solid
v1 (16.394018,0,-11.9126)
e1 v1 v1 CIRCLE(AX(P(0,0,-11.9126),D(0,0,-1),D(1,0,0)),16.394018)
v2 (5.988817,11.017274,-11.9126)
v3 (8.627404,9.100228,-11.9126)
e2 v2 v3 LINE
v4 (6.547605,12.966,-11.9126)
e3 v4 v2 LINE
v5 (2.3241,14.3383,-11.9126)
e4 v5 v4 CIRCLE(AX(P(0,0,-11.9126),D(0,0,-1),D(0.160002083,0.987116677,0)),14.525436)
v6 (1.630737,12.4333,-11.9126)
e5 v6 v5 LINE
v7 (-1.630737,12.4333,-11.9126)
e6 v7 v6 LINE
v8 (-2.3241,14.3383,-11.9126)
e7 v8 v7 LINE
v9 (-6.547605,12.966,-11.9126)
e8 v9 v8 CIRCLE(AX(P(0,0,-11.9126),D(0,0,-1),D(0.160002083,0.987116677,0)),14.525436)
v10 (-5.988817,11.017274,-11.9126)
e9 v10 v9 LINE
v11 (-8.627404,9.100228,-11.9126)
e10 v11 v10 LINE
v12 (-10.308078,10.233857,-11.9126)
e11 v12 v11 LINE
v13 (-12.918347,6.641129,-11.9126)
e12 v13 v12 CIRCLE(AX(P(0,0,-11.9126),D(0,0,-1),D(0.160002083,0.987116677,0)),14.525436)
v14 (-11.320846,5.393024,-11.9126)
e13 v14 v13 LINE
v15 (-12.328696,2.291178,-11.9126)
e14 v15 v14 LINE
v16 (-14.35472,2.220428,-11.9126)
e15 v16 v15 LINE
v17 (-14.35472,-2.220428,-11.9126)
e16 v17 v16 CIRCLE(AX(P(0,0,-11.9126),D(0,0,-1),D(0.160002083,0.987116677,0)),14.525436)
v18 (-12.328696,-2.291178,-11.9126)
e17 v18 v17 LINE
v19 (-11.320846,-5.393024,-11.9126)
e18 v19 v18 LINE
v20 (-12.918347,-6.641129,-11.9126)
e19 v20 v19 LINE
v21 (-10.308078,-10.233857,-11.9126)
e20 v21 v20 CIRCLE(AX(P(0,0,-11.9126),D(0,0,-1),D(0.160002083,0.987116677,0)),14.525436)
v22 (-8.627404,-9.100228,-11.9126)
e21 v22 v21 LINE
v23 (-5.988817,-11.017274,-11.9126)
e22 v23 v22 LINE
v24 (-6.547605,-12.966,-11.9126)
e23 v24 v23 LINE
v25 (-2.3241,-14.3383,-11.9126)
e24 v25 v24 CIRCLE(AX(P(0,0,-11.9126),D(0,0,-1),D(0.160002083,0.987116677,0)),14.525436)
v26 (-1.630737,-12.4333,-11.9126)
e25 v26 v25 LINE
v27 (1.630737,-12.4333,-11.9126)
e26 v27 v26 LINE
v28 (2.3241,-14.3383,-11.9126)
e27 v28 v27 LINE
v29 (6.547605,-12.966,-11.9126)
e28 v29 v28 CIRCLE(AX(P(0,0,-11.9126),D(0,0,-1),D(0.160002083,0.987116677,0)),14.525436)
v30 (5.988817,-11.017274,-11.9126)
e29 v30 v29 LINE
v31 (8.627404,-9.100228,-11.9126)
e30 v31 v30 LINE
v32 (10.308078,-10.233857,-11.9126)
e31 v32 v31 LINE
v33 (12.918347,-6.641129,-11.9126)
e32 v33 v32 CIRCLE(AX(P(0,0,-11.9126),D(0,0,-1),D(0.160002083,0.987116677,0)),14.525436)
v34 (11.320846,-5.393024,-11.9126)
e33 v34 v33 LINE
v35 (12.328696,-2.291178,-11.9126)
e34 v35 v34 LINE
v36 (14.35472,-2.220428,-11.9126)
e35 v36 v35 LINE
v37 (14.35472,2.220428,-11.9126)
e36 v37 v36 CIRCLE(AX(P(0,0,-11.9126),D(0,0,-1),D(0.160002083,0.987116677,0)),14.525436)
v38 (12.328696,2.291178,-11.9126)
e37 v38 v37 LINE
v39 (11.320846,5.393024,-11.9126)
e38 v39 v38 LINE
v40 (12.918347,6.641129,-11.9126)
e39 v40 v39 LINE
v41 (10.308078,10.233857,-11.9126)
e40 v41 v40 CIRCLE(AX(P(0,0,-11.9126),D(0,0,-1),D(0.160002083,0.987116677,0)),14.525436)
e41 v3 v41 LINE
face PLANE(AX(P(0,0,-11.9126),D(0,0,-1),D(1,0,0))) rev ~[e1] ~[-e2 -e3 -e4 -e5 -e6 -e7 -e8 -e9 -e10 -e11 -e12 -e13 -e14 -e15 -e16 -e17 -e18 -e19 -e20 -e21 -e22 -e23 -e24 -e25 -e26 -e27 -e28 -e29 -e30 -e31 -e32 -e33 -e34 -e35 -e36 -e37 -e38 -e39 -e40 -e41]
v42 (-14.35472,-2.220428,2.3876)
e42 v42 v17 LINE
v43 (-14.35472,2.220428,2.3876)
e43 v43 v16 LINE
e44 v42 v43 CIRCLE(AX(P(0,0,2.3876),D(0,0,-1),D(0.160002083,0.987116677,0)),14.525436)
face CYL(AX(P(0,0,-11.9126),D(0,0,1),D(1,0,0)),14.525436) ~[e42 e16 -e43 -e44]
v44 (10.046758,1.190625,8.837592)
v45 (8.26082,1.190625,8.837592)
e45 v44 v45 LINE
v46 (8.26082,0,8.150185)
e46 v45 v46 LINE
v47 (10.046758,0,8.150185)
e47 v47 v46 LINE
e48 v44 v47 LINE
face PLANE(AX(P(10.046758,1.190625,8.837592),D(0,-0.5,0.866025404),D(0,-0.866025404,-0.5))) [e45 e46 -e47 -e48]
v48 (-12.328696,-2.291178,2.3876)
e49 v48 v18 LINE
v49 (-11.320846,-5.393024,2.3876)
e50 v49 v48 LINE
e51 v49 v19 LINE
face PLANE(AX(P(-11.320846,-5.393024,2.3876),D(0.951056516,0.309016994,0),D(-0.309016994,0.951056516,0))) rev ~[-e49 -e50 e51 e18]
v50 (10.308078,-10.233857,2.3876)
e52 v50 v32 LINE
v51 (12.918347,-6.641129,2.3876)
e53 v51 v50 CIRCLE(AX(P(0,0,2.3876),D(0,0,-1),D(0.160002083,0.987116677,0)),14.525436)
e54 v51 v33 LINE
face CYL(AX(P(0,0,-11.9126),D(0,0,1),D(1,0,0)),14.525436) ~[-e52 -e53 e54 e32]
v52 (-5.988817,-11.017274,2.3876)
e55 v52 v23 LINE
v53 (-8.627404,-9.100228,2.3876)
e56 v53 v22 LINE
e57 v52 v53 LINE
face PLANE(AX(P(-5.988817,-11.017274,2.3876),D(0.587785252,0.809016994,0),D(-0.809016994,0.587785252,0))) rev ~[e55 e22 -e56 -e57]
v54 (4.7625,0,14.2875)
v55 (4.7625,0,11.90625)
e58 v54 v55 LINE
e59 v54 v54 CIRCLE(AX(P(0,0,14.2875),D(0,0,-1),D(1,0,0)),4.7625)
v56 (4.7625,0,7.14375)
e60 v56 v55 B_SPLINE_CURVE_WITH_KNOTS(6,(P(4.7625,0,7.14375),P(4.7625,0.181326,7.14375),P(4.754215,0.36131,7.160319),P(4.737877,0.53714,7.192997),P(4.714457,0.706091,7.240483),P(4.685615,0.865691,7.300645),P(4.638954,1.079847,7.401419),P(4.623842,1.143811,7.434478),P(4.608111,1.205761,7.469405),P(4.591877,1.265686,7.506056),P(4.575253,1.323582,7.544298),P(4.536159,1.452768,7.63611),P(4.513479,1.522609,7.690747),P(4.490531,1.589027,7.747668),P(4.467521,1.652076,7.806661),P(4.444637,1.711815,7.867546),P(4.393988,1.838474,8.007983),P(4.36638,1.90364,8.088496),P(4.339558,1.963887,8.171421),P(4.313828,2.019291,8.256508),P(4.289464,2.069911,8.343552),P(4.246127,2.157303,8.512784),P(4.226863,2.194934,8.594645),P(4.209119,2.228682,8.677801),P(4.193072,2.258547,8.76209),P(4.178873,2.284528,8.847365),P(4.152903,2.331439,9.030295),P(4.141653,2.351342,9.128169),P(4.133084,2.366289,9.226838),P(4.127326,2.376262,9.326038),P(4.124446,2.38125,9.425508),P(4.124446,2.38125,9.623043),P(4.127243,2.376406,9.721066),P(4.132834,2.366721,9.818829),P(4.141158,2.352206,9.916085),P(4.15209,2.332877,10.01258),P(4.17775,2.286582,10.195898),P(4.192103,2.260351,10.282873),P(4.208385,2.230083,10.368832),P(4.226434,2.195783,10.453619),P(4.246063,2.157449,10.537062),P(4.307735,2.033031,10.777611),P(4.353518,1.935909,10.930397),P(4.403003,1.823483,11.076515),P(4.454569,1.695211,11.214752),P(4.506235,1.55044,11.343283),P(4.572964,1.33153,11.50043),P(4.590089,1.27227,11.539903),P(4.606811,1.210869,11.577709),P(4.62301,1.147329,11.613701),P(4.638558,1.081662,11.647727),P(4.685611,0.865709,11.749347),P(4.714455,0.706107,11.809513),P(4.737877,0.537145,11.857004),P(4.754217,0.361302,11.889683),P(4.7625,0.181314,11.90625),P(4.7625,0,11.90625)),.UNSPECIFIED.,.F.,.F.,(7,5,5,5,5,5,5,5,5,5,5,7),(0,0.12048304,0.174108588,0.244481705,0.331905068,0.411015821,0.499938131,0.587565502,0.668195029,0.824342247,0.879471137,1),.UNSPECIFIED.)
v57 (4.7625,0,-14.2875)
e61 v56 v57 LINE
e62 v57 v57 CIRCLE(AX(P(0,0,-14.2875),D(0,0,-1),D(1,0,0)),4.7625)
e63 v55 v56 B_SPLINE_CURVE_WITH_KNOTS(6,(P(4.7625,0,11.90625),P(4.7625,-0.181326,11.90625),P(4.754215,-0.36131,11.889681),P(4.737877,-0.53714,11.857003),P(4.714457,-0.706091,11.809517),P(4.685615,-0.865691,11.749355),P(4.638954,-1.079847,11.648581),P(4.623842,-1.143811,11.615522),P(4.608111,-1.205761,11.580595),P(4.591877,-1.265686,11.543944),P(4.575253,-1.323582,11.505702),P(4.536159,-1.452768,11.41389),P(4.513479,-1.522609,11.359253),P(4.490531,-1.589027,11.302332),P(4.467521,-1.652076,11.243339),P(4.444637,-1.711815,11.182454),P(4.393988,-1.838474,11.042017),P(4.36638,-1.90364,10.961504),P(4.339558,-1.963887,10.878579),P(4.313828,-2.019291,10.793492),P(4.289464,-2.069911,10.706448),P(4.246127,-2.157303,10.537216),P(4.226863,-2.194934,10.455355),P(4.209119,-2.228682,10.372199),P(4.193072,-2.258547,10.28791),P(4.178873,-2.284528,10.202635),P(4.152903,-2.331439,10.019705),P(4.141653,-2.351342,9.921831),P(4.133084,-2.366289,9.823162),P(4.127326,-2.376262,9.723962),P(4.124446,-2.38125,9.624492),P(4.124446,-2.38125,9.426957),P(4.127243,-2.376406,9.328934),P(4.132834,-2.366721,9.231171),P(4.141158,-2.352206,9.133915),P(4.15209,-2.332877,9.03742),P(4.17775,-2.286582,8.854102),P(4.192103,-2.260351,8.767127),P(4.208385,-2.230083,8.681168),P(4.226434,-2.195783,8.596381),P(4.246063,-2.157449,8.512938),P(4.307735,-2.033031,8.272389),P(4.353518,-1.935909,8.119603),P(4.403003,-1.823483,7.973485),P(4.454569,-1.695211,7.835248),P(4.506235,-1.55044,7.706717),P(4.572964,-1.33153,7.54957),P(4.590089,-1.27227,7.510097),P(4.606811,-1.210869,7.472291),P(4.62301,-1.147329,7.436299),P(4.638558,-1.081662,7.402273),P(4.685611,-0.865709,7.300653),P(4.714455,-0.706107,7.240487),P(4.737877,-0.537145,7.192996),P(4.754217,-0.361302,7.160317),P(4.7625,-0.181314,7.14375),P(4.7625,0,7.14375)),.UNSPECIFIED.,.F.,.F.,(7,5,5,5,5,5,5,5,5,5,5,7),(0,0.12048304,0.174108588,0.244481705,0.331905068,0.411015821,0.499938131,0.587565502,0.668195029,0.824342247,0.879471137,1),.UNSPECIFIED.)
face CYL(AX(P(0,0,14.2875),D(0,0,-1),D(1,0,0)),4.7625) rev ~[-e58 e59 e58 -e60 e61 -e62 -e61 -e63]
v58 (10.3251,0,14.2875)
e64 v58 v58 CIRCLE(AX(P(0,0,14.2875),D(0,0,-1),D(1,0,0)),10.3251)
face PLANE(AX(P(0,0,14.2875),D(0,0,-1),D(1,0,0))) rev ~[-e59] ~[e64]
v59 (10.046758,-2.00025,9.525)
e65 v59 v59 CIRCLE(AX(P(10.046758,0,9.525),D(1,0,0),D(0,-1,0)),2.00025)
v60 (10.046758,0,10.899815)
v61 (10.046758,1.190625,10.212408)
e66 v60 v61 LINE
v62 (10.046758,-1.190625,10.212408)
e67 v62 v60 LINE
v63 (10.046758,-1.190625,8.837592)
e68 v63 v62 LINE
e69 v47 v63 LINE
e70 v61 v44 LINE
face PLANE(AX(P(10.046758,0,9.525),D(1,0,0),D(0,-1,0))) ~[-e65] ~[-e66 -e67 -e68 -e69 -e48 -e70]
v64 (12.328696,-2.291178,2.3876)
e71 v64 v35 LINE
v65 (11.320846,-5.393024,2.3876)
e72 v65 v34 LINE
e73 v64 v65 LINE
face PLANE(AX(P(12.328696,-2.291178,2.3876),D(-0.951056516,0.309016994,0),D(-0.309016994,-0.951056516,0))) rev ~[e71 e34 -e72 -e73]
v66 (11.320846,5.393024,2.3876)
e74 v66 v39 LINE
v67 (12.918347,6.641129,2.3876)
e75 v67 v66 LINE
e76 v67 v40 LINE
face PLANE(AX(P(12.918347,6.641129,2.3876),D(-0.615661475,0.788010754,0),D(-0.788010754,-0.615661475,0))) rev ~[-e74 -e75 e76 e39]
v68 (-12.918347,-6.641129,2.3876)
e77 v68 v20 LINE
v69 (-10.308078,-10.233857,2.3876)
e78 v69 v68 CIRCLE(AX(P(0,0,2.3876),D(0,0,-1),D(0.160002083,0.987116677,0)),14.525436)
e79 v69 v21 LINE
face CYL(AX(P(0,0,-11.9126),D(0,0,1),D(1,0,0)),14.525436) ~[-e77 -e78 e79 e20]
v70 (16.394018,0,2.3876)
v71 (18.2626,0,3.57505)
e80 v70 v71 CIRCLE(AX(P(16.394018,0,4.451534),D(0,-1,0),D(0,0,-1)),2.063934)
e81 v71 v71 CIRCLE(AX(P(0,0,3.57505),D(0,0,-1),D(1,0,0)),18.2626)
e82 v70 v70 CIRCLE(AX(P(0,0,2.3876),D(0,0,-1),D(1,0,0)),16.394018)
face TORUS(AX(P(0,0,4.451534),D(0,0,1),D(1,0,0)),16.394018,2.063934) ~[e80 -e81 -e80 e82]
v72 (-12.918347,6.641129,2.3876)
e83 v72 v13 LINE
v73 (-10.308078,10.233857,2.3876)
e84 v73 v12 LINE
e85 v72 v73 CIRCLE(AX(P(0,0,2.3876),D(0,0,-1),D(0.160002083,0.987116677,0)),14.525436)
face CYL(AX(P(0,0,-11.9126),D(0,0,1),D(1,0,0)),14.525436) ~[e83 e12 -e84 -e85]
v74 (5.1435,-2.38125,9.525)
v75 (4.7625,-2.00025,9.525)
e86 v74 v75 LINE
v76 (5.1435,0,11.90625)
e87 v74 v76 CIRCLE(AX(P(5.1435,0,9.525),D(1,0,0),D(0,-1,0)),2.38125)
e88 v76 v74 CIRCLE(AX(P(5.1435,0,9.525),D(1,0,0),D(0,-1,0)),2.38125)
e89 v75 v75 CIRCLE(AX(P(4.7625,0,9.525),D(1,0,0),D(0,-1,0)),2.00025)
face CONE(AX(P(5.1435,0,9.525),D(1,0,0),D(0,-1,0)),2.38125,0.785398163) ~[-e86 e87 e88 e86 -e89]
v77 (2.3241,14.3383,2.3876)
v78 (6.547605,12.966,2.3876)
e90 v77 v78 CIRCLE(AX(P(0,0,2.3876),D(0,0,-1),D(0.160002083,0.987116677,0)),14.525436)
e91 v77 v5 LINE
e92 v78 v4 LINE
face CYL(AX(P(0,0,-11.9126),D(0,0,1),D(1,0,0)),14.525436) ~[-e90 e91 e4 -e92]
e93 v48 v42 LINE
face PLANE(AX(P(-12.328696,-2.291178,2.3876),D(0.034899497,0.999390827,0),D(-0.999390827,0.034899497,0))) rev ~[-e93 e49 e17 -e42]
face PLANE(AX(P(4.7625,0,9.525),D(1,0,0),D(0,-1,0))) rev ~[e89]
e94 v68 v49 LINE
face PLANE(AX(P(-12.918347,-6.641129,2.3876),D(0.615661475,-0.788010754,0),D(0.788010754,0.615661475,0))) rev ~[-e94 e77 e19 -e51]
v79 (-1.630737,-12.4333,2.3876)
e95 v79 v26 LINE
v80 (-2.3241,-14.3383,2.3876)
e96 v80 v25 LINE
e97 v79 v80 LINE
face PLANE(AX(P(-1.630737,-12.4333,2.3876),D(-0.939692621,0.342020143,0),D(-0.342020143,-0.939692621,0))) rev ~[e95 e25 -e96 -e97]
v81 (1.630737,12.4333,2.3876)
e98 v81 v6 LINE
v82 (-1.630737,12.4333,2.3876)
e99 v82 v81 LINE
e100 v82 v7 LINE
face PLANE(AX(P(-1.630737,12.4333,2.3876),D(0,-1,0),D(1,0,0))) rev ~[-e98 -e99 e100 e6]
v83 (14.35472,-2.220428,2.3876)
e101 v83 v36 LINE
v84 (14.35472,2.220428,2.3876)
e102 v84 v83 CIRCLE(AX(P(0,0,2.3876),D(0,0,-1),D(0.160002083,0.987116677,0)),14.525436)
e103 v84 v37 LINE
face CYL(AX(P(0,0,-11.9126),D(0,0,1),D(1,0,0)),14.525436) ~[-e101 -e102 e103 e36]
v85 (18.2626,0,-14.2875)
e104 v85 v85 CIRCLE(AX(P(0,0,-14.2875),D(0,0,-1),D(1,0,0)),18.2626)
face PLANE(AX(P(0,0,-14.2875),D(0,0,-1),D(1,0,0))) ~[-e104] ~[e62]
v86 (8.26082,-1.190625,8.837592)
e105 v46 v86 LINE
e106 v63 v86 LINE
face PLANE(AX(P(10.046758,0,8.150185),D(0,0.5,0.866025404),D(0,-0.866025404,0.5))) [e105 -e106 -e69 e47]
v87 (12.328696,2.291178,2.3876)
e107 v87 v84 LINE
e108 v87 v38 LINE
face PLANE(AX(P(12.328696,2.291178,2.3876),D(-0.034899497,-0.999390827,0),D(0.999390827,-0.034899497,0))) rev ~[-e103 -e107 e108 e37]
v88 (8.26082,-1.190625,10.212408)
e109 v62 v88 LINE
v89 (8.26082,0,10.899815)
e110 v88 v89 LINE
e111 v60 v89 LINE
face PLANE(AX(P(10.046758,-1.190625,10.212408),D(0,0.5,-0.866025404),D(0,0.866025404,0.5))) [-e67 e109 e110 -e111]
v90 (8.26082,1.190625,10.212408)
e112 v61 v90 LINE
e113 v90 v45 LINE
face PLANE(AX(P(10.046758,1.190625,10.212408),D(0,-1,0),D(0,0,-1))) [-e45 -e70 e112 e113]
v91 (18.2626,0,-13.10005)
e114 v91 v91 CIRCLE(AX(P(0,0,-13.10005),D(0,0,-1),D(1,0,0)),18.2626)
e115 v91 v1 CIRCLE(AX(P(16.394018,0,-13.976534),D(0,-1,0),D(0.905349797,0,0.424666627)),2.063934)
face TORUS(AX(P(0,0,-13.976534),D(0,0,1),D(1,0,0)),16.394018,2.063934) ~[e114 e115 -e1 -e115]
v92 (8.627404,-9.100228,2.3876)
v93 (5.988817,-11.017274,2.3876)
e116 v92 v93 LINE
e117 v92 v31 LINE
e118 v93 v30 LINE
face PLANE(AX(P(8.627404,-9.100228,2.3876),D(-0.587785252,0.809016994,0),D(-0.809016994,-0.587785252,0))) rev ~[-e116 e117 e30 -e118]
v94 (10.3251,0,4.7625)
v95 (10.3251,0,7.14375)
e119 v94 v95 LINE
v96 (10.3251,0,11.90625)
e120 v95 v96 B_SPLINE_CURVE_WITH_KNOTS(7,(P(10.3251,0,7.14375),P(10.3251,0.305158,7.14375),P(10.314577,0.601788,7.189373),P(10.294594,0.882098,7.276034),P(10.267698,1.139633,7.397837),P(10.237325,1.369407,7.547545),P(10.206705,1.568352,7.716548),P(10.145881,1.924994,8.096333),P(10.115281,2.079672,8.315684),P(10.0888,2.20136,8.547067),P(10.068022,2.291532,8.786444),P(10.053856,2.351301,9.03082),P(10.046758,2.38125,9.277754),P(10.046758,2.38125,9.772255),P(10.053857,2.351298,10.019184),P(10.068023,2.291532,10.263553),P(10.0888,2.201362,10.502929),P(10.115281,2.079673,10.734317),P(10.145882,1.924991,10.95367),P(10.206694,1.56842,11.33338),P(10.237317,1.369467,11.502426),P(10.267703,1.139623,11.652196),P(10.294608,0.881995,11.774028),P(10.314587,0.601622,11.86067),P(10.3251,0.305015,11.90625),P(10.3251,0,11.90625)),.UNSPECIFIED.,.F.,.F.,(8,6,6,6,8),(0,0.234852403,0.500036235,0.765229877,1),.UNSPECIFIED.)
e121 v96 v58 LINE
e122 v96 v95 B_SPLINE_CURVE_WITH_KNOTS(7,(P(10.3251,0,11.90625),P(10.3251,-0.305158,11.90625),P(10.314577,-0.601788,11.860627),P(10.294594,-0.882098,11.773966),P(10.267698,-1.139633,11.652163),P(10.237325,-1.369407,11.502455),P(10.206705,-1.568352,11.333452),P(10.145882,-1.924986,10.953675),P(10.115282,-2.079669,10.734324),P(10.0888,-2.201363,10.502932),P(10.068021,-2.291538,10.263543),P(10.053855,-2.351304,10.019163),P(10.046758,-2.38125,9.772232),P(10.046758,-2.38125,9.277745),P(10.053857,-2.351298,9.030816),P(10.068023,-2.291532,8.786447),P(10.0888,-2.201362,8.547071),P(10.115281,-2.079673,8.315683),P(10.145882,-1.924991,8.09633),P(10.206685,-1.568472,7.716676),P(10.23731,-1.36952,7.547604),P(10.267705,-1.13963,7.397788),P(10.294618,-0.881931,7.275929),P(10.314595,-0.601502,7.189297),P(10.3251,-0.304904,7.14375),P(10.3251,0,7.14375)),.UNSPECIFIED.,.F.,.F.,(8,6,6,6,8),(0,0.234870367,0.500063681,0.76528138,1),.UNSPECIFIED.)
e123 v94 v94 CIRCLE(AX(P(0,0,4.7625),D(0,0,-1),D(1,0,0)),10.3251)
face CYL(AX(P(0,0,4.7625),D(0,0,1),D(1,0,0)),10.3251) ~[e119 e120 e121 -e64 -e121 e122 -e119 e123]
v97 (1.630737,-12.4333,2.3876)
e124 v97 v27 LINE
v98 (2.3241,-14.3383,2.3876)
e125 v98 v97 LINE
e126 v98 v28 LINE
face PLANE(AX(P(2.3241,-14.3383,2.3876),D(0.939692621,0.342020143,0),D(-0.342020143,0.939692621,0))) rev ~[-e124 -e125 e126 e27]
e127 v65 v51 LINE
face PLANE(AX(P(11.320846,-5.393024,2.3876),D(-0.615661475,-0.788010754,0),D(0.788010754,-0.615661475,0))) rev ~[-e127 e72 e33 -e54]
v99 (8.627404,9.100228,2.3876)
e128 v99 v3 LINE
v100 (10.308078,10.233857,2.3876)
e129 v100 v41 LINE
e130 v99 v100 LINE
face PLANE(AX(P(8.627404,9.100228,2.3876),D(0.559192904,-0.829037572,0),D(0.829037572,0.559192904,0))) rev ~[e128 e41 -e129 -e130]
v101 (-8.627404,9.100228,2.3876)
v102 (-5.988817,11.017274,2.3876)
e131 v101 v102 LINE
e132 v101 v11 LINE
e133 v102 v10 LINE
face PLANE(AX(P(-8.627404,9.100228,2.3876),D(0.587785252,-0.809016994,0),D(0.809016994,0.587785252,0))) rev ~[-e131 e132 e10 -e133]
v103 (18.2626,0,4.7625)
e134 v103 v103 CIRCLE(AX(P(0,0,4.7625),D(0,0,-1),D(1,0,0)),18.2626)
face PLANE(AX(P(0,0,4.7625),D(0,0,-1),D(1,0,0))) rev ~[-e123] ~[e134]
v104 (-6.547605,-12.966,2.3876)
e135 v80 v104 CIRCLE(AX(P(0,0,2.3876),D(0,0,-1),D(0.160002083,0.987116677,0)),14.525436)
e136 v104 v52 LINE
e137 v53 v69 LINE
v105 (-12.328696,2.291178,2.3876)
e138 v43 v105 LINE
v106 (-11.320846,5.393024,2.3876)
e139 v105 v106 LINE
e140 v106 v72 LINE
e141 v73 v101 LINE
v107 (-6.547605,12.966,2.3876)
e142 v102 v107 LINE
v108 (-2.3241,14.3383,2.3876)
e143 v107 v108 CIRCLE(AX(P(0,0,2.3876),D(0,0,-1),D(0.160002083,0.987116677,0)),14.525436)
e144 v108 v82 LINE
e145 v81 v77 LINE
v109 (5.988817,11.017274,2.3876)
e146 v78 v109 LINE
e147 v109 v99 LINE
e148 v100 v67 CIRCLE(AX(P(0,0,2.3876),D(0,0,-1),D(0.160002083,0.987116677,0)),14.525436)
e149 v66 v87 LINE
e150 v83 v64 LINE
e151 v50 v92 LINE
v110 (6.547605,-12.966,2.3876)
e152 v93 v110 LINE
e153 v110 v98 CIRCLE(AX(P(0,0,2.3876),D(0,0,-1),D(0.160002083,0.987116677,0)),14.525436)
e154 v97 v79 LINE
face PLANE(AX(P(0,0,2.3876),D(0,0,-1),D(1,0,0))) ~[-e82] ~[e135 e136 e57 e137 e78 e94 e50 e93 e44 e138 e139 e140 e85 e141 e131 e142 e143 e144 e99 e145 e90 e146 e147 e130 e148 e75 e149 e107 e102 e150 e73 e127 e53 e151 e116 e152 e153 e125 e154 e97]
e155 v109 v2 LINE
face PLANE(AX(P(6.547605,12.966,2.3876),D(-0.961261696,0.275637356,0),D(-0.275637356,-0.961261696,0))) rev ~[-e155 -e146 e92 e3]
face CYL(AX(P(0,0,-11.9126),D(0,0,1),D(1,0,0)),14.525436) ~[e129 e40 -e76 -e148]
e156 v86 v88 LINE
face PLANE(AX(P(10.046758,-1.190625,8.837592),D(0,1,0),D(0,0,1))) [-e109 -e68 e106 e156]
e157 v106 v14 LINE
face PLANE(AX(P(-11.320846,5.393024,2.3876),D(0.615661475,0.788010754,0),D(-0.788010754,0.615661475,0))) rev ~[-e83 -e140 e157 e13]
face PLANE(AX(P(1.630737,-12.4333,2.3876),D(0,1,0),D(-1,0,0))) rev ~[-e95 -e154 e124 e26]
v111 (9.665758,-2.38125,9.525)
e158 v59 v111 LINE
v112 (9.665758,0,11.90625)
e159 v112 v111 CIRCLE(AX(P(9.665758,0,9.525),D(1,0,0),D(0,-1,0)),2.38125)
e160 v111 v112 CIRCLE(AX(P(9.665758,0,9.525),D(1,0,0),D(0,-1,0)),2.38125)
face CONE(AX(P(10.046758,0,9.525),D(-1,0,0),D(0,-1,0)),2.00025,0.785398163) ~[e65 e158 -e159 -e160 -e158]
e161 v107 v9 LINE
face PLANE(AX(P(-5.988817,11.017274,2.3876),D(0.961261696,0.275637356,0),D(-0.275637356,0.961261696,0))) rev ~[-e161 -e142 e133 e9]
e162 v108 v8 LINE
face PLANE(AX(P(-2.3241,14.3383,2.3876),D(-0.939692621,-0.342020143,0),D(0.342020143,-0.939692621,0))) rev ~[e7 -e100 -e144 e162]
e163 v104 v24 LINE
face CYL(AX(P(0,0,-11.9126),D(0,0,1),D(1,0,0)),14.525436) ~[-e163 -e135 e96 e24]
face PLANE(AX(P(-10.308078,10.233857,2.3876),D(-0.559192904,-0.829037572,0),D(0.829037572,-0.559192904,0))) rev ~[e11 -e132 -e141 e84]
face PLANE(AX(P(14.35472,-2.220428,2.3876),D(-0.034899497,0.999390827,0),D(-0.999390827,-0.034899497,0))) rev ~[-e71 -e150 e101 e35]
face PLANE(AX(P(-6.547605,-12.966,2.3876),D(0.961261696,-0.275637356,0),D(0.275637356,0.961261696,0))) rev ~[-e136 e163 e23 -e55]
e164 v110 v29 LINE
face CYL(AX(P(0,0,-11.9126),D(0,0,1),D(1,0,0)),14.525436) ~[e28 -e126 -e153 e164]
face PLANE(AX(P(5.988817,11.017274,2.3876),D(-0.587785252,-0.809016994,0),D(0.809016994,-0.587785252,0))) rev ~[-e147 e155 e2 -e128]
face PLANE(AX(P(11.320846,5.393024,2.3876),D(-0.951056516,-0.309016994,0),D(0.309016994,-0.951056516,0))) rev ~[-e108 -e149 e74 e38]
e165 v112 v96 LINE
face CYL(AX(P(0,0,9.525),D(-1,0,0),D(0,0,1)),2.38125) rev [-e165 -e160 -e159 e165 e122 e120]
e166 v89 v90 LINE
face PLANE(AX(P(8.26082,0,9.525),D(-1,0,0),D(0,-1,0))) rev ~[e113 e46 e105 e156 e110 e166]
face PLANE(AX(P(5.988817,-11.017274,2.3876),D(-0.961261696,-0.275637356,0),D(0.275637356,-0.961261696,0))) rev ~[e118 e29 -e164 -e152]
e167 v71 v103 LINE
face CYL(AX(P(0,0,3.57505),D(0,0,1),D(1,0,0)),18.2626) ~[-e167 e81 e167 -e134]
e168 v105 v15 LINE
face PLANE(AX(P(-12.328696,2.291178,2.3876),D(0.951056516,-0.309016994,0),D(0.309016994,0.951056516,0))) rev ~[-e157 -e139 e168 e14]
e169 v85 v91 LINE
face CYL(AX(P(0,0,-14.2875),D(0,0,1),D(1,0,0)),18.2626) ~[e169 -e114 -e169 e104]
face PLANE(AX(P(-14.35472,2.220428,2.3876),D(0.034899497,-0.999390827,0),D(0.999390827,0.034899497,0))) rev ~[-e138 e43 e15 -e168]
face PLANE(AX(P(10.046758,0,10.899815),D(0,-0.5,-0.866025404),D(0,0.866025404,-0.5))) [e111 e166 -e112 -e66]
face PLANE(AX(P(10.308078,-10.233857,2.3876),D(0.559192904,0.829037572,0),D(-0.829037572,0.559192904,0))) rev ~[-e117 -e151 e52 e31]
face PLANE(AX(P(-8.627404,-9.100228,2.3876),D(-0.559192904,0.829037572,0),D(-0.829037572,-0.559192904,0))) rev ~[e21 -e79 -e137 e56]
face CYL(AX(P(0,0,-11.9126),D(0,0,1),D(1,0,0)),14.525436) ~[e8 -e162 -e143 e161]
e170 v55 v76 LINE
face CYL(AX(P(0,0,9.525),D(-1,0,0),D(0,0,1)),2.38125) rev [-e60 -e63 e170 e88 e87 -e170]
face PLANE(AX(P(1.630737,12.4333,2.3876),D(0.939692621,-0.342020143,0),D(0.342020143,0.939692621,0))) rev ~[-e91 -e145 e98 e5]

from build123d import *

# Parameters (mm, degrees)
CUT_EXTRUDE1_START = 2.3876
CUT_EXTRUDE1_DEPTH = 14.3002
CIRPATTERN1_COUNT  = 10
SKETCH4_R          = 2.38125
CUT_EXTRUDE2_DEPTH = 30.51572079
CUT_EXTRUDE3_DEPTH = 1.7859375


with BuildPart() as part:
    # Sketch2 → Revolve1 (revolve)
    with BuildSketch(Plane(origin=(0, 0, 0), x_dir=(0, 0, -1), z_dir=(1, 0, 0)), mode=Mode.PRIVATE) as revolve1_sk:
        with BuildLine():
            Line((-14.2875, 4.7625), (14.2875, 4.7625))
            Line((14.2875, 4.7625), (14.2875, 18.2626))
            Line((14.2875, 18.2626), (13.10005, 18.2626))
            ThreePointArc((13.10005, 18.2626), (12.234576959, 17.500999922), (11.9126, 16.394017943))
            Line((11.9126, 16.394017943), (11.9126, 14.525435887))
            Line((11.9126, 14.525435887), (-2.3876, 14.525435887))
            Line((-2.3876, 14.525435887), (-2.3876, 16.394017943))
            ThreePointArc((-2.3876, 16.394017943), (-2.709576959, 17.500999922), (-3.57505, 18.2626))
            Line((-3.57505, 18.2626), (-4.7625, 18.2626))
            Line((-4.7625, 18.2626), (-4.7625, 10.3251))
            Line((-4.7625, 10.3251), (-14.2875, 10.3251))
            Line((-14.2875, 10.3251), (-14.2875, 4.7625))
        make_face()
    revolve(revolve1_sk.sketch.rotate(Axis((0, 0, 14.2875), (0, 0, -1)), 90), axis=Axis((0, 0, 14.2875), (0, 0, -1)))

    # Sketch3 → Cut-Extrude1 (cut)
    with BuildSketch(Plane.XY.offset(CUT_EXTRUDE1_START)):
        with BuildLine():
            Line((-1.630736704, 12.4333), (1.630736704, 12.4333))
            Line((1.630736704, 12.4333), (2.3241, 14.3383))
            ThreePointArc((2.3241, 14.3383), (0, 14.525435887), (-2.3241, 14.3383))
            Line((-2.3241, 14.3383), (-1.630736704, 12.4333))
        make_face()
    cut_extrude1 = extrude(amount=-CUT_EXTRUDE1_DEPTH, mode=Mode.SUBTRACT)

    # CirPattern1: Cut-Extrude1 ×10 about axis
    cirpattern1_axis = Axis((0, 0, 0), (0, 0, 1))
    for i in range(1, CIRPATTERN1_COUNT):
        add(cut_extrude1.rotate(cirpattern1_axis, i * 360 / CIRPATTERN1_COUNT), mode=Mode.SUBTRACT)

    # Sketch4 → Cut-Extrude2 (cut, through all)
    with BuildSketch(Plane(origin=(0, 0, 0), x_dir=(0, -1, 0), z_dir=(1, 0, 0))):
        with Locations(Location((0, -9.525, 0), (0, 0, 270))):
            Circle(SKETCH4_R)
    extrude(amount=CUT_EXTRUDE2_DEPTH, mode=Mode.SUBTRACT)

    # Sketch5 → Revolve2 (revolve)
    with BuildSketch(Plane.XY.offset(9.525)):
        Polygon((4.7625, -2.00025), (4.7625, 0), (10.046757609, 0), (10.046757609, -2.00025), (9.665757609, -2.38125), (5.1435, -2.38125), align=None)
    revolve(axis=Axis((4.7625, 0, 9.525), (1, 0, 0)))

    # Sketch6 → Cut-Extrude3 (cut)
    with BuildSketch(Plane(origin=(10.046757609, 5.384140679, 0), x_dir=(0, -1, 0), z_dir=(-1, 0, 0))):
        Polygon((5.384140679, 10.899815329), (4.193515679, 10.212407664), (4.193515679, 8.837592336), (5.384140679, 8.150184671), (6.574765679, 8.837592336), (6.574765679, 10.212407664), align=None)
    extrude(amount=CUT_EXTRUDE3_DEPTH, mode=Mode.SUBTRACT)


solid = part.part
